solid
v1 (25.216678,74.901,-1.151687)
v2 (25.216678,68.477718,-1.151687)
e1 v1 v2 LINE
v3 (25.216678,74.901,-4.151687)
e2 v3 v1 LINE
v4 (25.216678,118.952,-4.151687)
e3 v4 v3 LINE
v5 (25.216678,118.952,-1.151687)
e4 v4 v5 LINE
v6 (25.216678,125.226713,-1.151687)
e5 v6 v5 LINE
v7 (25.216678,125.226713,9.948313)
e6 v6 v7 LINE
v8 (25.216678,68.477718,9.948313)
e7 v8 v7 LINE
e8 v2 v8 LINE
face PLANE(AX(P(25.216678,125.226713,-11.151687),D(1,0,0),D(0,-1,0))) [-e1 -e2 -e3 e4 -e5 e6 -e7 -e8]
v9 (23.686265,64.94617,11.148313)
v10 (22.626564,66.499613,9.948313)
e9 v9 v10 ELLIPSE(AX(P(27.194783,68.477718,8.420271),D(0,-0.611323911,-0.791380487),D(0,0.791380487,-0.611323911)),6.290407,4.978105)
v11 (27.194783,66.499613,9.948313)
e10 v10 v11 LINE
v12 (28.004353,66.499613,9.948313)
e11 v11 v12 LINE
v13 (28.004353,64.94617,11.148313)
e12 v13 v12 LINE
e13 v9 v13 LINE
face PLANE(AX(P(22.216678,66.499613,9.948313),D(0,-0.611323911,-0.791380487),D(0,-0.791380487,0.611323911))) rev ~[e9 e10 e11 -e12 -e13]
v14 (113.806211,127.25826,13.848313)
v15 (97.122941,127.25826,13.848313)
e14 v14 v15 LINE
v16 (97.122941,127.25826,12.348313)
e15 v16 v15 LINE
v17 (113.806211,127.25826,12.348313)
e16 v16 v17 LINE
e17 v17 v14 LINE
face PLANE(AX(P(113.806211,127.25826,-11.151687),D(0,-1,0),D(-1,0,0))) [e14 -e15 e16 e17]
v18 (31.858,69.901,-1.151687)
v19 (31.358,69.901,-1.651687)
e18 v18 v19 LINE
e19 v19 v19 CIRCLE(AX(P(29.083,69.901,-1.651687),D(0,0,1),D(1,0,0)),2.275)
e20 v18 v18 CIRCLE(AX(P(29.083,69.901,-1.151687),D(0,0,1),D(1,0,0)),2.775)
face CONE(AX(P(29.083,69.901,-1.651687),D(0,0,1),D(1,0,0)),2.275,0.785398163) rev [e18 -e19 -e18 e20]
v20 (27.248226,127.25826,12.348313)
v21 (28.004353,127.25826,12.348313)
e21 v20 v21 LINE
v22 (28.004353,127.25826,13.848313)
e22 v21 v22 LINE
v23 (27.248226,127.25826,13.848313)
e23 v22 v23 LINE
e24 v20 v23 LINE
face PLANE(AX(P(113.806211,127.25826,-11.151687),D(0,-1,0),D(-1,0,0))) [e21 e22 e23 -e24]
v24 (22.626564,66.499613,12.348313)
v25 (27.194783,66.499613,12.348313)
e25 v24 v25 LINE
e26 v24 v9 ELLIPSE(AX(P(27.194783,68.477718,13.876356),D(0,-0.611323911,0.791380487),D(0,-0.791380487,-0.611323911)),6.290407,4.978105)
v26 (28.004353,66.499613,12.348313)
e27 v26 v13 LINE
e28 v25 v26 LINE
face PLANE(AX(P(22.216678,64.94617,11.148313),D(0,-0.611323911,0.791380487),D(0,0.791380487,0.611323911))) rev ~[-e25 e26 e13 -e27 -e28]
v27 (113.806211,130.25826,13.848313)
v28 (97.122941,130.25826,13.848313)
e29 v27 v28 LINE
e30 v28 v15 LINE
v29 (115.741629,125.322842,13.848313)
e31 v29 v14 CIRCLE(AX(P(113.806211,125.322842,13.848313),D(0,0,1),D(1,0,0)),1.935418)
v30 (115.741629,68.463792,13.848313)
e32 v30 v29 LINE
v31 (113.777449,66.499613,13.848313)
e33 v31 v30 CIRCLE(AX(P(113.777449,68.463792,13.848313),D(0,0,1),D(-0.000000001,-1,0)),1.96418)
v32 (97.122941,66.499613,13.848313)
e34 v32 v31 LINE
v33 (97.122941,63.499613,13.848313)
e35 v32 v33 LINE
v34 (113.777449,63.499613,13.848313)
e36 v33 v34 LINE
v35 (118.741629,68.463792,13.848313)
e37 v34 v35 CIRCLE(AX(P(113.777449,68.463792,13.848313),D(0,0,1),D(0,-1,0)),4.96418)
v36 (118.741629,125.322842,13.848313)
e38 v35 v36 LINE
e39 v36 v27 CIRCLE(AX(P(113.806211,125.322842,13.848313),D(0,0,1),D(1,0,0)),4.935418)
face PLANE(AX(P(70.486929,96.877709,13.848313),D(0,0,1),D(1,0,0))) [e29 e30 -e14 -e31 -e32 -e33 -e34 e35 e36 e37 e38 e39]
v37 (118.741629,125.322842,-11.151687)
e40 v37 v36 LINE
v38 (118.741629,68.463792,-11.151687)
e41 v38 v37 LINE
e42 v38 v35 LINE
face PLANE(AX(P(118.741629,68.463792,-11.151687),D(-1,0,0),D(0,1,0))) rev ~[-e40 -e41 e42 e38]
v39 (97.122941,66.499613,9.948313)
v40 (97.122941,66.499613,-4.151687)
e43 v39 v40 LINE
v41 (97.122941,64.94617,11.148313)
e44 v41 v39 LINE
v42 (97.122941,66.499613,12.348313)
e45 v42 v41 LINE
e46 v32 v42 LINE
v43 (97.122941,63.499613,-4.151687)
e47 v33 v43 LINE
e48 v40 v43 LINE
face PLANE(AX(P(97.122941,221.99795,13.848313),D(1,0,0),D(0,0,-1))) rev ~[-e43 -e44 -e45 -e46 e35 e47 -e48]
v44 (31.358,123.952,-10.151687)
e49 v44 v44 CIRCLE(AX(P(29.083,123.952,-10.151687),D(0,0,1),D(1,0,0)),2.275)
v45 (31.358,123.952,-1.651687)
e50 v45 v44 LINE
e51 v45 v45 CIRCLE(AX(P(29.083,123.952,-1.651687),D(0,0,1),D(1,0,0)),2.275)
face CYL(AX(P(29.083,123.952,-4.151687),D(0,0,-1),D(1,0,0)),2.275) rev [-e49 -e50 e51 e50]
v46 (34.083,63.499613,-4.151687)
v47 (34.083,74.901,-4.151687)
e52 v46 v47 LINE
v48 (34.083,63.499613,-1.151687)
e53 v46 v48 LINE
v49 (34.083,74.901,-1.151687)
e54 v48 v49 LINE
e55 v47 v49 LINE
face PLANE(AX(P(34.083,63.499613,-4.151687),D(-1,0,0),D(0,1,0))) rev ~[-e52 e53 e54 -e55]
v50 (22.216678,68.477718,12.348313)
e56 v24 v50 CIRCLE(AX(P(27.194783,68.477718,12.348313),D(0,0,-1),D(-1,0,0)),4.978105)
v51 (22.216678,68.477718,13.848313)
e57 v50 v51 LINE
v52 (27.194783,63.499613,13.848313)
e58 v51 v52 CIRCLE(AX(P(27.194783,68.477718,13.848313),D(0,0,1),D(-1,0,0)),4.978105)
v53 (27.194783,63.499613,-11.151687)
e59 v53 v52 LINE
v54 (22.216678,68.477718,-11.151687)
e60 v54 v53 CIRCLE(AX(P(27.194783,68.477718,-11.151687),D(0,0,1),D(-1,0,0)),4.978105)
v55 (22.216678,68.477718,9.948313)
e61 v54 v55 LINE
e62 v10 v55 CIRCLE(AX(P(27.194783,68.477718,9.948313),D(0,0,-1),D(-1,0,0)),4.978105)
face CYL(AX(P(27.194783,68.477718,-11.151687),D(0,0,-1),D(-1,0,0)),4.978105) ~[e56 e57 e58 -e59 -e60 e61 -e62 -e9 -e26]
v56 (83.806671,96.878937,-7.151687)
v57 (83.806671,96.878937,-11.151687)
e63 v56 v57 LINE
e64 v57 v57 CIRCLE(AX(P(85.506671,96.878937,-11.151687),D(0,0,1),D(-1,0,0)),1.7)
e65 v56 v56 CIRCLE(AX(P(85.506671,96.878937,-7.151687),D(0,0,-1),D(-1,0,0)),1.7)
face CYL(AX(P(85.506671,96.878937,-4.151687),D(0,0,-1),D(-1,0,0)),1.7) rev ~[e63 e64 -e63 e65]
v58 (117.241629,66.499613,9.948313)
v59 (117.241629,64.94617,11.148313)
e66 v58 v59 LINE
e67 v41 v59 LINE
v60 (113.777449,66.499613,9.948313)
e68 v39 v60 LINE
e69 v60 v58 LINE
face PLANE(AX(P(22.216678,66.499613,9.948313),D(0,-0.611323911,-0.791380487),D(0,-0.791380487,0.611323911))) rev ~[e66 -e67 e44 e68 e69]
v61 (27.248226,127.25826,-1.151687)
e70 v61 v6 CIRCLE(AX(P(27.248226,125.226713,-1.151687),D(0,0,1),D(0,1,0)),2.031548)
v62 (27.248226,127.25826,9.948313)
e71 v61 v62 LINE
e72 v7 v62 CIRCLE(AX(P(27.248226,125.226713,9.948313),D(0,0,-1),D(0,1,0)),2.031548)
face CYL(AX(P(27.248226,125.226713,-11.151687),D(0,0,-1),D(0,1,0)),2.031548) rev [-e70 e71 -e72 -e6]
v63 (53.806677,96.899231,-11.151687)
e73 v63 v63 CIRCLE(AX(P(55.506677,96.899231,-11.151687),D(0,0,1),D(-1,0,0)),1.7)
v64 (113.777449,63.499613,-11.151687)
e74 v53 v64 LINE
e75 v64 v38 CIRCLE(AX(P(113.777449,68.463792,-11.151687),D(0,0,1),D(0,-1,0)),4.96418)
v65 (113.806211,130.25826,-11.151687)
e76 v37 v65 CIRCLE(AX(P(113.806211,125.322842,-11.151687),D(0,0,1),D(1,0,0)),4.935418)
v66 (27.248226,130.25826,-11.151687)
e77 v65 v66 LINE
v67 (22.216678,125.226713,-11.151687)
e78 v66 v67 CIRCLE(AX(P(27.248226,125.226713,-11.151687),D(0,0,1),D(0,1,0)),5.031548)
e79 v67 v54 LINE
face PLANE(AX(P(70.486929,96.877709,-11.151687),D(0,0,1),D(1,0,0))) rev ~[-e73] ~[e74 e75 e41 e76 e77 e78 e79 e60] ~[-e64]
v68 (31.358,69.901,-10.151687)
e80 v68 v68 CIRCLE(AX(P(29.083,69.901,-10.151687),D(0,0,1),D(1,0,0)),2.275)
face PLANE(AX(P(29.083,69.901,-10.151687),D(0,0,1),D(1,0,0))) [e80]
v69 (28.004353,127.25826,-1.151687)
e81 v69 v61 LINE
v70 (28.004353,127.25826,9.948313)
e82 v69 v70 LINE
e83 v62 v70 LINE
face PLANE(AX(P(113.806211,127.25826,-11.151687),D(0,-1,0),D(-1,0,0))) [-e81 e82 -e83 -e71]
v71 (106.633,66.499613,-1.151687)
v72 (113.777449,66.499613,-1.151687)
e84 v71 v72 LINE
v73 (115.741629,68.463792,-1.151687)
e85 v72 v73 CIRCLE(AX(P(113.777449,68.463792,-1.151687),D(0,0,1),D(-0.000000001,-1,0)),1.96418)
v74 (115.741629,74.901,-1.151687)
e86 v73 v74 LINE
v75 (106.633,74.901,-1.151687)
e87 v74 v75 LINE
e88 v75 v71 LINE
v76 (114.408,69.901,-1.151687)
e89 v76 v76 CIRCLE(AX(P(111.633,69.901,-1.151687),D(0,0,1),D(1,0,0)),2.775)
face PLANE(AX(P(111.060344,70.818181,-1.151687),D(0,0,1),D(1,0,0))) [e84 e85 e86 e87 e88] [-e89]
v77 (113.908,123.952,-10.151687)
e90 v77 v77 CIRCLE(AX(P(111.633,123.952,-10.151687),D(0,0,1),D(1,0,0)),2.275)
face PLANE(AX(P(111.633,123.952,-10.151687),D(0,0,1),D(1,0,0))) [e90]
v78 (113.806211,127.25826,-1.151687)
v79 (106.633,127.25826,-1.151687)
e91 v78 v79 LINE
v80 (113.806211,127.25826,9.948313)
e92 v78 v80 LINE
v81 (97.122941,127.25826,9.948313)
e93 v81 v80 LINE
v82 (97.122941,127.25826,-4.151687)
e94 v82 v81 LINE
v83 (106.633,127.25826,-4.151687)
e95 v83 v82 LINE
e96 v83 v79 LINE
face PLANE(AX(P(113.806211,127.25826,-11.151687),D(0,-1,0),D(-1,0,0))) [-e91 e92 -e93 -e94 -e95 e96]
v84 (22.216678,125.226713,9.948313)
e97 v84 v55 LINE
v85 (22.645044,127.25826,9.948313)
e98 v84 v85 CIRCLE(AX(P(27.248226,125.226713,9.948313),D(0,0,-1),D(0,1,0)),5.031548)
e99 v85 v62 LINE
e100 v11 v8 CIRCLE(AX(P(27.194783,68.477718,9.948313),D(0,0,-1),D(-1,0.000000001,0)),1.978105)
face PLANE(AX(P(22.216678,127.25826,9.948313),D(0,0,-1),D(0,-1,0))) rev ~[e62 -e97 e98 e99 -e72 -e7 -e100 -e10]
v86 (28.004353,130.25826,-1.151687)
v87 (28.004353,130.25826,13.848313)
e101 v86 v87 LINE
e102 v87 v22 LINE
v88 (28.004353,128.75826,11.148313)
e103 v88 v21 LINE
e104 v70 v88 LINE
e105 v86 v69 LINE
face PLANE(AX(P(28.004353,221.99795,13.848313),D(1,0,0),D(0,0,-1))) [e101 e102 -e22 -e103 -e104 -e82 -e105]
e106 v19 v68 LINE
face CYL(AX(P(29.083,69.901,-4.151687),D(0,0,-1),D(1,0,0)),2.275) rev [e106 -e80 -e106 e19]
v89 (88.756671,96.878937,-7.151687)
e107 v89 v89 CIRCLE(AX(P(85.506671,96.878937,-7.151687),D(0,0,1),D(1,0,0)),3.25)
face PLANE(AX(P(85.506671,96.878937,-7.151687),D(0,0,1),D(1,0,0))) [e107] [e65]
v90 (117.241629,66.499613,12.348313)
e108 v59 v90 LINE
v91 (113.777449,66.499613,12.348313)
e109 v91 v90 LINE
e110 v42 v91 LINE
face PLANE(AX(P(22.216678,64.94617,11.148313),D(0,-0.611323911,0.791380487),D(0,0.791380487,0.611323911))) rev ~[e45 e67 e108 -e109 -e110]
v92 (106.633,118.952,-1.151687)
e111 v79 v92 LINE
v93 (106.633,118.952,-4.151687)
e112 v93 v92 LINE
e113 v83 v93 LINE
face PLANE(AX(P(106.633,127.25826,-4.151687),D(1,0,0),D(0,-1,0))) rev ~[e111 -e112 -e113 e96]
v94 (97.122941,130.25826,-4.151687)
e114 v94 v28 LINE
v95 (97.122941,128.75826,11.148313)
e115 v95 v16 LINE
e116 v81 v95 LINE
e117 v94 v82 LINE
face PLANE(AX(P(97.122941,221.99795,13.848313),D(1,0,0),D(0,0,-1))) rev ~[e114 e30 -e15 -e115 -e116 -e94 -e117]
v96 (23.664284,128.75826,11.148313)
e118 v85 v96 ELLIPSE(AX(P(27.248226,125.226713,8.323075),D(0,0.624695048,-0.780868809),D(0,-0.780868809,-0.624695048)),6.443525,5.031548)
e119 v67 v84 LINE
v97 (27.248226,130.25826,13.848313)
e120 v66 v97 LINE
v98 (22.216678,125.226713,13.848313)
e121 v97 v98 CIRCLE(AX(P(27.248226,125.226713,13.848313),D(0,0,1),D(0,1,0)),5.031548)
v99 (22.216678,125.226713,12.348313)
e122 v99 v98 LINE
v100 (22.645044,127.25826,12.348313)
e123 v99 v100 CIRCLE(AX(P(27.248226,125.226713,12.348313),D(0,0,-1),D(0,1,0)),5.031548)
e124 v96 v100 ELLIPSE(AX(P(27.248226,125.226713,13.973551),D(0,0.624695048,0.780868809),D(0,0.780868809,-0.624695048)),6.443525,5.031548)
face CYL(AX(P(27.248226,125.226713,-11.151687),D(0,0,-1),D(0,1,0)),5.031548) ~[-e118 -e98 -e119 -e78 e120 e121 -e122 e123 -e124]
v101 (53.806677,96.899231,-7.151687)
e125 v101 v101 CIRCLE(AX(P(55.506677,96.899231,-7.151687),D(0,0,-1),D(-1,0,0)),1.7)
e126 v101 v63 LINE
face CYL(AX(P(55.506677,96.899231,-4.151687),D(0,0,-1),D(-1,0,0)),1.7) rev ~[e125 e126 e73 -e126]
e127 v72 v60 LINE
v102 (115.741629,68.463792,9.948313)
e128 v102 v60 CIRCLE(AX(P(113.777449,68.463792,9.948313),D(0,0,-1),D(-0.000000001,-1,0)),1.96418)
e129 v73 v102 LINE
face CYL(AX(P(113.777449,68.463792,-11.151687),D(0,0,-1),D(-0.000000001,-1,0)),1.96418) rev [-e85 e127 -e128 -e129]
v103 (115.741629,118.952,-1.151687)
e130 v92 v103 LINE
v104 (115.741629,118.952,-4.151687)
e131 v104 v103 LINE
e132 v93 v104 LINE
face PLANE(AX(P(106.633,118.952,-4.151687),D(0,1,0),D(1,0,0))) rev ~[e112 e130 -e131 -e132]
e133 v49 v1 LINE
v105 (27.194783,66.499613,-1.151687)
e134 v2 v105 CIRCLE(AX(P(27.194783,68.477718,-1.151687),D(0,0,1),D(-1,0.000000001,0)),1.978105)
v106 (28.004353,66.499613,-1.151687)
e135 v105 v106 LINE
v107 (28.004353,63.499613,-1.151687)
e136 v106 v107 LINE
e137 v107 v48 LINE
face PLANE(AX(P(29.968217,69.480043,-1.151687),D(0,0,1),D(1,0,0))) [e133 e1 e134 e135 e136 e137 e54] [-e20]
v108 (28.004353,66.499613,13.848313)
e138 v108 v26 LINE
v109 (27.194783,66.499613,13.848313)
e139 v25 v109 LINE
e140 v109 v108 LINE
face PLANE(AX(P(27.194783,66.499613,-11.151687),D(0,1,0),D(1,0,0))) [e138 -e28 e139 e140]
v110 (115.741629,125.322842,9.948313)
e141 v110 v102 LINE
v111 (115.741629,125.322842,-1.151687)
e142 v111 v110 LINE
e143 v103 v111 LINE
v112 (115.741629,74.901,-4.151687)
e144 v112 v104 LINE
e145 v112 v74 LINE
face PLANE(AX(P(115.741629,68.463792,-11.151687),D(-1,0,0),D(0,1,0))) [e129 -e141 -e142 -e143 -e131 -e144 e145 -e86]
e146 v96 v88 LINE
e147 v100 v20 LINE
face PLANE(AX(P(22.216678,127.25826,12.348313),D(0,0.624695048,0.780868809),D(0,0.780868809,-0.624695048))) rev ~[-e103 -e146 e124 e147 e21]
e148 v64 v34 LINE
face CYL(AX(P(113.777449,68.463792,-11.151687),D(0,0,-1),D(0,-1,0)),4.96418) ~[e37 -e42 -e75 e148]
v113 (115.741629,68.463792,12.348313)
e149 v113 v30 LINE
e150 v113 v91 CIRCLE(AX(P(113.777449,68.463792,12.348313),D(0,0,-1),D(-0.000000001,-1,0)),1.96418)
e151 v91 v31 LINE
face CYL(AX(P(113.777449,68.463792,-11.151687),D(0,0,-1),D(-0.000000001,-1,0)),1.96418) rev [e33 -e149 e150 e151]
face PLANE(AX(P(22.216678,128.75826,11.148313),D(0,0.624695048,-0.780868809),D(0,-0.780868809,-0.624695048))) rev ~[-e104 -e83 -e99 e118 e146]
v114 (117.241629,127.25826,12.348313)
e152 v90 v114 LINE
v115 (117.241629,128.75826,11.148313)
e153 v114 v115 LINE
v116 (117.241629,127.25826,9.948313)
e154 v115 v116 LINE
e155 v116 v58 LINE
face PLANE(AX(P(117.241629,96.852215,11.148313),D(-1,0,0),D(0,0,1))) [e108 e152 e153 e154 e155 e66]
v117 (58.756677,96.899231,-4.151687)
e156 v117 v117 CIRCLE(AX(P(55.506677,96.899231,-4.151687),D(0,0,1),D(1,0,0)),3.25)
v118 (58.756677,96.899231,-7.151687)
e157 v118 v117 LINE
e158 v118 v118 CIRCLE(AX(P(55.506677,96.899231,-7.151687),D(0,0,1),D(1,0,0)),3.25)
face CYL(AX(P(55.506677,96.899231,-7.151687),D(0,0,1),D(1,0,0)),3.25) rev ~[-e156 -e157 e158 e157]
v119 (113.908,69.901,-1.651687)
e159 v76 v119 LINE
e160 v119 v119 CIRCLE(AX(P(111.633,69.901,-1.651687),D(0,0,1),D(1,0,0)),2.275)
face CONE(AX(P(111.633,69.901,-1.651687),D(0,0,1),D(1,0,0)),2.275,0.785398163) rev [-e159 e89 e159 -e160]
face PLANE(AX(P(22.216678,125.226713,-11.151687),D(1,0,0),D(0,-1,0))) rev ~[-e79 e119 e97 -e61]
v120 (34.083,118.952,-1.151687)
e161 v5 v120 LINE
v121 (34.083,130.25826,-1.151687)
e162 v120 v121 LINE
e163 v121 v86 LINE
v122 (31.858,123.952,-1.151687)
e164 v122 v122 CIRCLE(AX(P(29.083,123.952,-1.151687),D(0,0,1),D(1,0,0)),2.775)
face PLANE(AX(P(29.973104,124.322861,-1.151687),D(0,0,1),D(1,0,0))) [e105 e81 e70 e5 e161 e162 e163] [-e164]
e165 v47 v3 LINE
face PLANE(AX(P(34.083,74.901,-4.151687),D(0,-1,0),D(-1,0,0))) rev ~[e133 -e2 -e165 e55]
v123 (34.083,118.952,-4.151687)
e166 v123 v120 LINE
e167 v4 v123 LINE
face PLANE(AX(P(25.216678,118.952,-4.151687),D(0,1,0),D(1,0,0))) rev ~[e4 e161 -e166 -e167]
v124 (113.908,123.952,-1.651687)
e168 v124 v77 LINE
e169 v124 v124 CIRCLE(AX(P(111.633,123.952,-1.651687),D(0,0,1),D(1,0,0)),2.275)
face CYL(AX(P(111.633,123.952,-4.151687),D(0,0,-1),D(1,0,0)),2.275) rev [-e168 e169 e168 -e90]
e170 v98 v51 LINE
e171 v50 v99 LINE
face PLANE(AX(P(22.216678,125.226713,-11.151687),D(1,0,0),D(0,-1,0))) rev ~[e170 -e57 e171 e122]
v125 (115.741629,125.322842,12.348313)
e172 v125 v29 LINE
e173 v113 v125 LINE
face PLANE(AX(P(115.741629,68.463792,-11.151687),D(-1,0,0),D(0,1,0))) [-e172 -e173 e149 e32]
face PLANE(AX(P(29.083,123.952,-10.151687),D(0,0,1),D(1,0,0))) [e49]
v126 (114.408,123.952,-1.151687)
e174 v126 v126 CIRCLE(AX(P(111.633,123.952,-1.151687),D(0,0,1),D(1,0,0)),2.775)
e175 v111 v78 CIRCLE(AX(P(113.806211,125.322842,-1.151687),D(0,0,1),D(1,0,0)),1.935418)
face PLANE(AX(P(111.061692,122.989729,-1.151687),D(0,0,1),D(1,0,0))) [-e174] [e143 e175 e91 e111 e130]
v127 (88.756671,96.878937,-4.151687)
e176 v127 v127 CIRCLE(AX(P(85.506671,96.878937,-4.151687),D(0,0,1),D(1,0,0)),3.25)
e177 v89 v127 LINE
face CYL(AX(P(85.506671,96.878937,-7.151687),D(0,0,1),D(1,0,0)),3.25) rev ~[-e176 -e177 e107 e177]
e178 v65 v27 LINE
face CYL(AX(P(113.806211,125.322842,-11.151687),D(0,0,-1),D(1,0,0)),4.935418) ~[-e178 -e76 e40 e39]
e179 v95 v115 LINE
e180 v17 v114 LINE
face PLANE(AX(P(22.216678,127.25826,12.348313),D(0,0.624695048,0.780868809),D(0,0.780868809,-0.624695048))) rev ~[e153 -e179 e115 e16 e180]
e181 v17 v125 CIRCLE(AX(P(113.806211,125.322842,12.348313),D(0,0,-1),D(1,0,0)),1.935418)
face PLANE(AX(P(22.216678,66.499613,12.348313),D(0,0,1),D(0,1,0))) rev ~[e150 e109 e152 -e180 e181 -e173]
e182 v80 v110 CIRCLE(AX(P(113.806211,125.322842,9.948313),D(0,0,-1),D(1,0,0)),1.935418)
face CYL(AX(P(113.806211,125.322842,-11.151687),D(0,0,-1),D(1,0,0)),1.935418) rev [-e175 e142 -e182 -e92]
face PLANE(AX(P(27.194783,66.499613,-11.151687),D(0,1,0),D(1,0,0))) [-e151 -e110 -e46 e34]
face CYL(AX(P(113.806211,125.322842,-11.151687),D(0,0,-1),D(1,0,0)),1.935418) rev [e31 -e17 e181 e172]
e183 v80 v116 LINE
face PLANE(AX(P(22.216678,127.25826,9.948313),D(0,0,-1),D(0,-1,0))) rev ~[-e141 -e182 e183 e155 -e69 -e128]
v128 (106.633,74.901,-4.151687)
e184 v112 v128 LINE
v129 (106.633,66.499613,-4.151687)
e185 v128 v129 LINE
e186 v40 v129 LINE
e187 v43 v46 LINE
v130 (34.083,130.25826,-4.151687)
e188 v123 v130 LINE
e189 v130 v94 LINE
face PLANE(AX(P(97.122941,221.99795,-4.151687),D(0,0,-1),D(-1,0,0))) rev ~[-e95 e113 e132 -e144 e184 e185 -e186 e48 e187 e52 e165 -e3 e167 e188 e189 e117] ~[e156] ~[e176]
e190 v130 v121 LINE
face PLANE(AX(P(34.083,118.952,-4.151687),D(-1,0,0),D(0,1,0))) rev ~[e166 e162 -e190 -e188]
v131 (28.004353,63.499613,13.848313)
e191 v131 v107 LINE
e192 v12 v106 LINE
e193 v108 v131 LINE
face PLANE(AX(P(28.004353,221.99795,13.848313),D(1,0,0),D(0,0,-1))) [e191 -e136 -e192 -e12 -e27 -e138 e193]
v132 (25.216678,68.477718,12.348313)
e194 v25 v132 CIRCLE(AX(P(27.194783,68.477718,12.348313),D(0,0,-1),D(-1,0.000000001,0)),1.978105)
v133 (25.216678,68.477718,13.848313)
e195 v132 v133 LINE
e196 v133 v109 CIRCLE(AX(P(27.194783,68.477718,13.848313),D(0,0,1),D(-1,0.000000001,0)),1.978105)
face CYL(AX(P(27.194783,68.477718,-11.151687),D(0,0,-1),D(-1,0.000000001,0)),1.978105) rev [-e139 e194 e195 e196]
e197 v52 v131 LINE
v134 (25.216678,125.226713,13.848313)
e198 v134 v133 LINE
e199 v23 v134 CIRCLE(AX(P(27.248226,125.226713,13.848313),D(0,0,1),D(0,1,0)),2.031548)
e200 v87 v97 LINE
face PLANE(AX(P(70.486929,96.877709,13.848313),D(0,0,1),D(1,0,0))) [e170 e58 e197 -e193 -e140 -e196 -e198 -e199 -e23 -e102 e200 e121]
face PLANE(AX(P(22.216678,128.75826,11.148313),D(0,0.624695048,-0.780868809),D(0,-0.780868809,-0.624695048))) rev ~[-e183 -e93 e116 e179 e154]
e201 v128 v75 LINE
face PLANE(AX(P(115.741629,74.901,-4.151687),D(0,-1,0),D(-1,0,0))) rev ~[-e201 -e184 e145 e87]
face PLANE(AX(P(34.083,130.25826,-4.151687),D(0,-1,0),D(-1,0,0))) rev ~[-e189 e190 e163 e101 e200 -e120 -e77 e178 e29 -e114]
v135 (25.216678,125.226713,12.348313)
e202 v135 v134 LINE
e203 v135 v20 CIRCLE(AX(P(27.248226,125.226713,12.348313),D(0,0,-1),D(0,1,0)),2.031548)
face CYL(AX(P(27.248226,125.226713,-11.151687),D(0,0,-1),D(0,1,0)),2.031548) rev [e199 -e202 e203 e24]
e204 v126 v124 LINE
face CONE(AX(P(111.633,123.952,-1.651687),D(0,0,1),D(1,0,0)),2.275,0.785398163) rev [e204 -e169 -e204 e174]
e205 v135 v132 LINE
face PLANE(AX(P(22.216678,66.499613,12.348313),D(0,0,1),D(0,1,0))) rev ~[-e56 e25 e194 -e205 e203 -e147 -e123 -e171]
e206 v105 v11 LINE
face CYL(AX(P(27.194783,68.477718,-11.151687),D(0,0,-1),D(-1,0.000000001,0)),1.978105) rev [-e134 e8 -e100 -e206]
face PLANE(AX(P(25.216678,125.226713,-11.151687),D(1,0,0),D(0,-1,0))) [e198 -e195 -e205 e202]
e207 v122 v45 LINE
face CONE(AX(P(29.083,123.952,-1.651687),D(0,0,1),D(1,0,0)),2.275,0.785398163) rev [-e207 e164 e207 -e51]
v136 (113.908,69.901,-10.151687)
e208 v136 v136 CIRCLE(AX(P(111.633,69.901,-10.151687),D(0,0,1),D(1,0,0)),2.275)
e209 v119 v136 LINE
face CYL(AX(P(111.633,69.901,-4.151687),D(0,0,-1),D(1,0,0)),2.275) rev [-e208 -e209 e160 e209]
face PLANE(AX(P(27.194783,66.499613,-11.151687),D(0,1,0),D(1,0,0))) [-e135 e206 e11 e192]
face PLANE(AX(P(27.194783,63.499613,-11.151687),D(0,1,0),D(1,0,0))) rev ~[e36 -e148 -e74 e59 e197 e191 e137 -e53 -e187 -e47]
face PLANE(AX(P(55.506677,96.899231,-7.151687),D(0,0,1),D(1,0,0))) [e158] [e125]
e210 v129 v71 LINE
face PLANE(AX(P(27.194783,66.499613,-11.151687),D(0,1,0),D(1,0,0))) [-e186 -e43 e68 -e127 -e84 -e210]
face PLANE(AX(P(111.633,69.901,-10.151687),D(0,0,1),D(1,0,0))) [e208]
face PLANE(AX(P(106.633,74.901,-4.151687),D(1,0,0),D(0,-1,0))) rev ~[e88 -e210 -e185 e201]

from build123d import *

# Parameters (mm, degrees)
BOSS_EXTRUDE1_DEPTH            = 7
BOSS_EXTRUDE2_DEPTH            = 25
SKETCH2_R                      = 2.275
CUT_EXTRUDE1_DEPTH             = 6
CBORE_FOR_M3_SHCS1_D           = 3.4
CBORE_FOR_M3_SHCS1_DEPTH       = 7
CBORE_FOR_M3_SHCS1_CBORE_D     = 6.5
CBORE_FOR_M3_SHCS1_CBORE_DEPTH = 3
CBORE_FOR_M3_SHCS1_TIP         = 1.021463052
CUT_EXTRUDE2_DEPTH             = 125.119013182
CUT_EXTRUDE2_DEPTH_BACK        = 125.119013182
SKETCH5_W                      = 69.118587288
SKETCH5_H                      = 18
SKETCH6_W                      = 2.4
SKETCH6_H                      = 56.748995089
CUT_EXTRUDE3_DEPTH             = 95.024950421
SKETCH7_R                      = 2.275
BOSS_EXTRUDE3_DEPTH            = 3
CHAMFER1_SIZE                  = 0.5


with BuildPart() as part:
    # Sketch1 → Boss-Extrude1 (new body)
    with BuildSketch(Plane(origin=(0, 0, -11.1516868), x_dir=(-1, 0, 0), z_dir=(0, 0, -1))):
        with BuildLine():
            Line((-25.216678302, 125.2267128), (-25.216678302, 68.477717711))
            ThreePointArc((-25.216678302, 68.477717711), (-25.796051859, 67.07898621), (-27.19478336, 66.499612653))
            Line((-27.19478336, 66.499612653), (-113.777448917, 66.499612653))
            ThreePointArc((-113.777448917, 66.499612653), (-115.166333777, 67.074907598), (-115.741628722, 68.463792459))
            Line((-115.741628722, 68.463792459), (-115.741628722, 125.322842242))
            ThreePointArc((-115.741628722, 125.322842242), (-115.174757862, 126.691389562), (-113.806210541, 127.258260423))
            Line((-113.806210541, 127.258260423), (-27.248225925, 127.258260423))
            ThreePointArc((-27.248225925, 127.258260423), (-25.811704824, 126.6632339), (-25.216678302, 125.2267128))
        make_face()
    extrude(amount=-BOSS_EXTRUDE1_DEPTH)

    # Sketch1<4> → Boss-Extrude2 (add)
    with BuildSketch(Plane(origin=(0, 0, -11.1516868), x_dir=(-1, 0, 0), z_dir=(0, 0, -1))):
        with BuildLine():
            Line((-22.216678302, 125.2267128), (-22.216678302, 68.477717711))
            ThreePointArc((-22.216678302, 68.477717711), (-23.674731516, 64.957665867), (-27.19478336, 63.499612653))
            Line((-27.19478336, 63.499612653), (-113.777448917, 63.499612653))
            ThreePointArc((-113.777448917, 63.499612653), (-117.28765412, 64.953587255), (-118.741628722, 68.463792459))
            Line((-118.741628722, 68.463792459), (-118.741628722, 125.322842242))
            ThreePointArc((-118.741628722, 125.322842242), (-117.296078205, 128.812709906), (-113.806210541, 130.258260423))
            Line((-113.806210541, 130.258260423), (-27.248225925, 130.258260423))
            ThreePointArc((-27.248225925, 130.258260423), (-23.690384481, 128.784554244), (-22.216678302, 125.2267128))
        make_face()
        with BuildLine():
            Line((-25.216678302, 125.2267128), (-25.216678302, 68.477717711))
            ThreePointArc((-25.216678302, 68.477717711), (-25.796051859, 67.07898621), (-27.19478336, 66.499612653))
            Line((-27.19478336, 66.499612653), (-113.777448917, 66.499612653))
            ThreePointArc((-113.777448917, 66.499612653), (-115.166333777, 67.074907598), (-115.741628722, 68.463792459))
            Line((-115.741628722, 68.463792459), (-115.741628722, 125.322842242))
            ThreePointArc((-115.741628722, 125.322842242), (-115.174757862, 126.691389562), (-113.806210541, 127.258260423))
            Line((-113.806210541, 127.258260423), (-27.248225925, 127.258260423))
            ThreePointArc((-27.248225925, 127.258260423), (-25.811704824, 126.6632339), (-25.216678302, 125.2267128))
        make_face(mode=Mode.SUBTRACT)
    extrude(amount=-BOSS_EXTRUDE2_DEPTH)

    # Sketch2 → Cut-Extrude1 (cut)
    with BuildSketch(Plane.XY.offset(-4.1516868)):
        with Locations((111.633, 123.952)):
            Circle(SKETCH2_R)
        with Locations((111.633, 69.901)):
            Circle(SKETCH2_R)
        with Locations((29.083, 69.901)):
            Circle(SKETCH2_R)
        with Locations((29.083, 123.952)):
            Circle(SKETCH2_R)
    extrude(amount=-CUT_EXTRUDE1_DEPTH, mode=Mode.SUBTRACT)

    # CBORE for M3 SHCS1
    with Locations(Plane.XY.offset(-4.1516868)):
        with Locations((55.506677482, 96.899230975), (85.506670618, 96.878936538)):
            CounterBoreHole(CBORE_FOR_M3_SHCS1_D / 2, CBORE_FOR_M3_SHCS1_CBORE_D / 2, CBORE_FOR_M3_SHCS1_CBORE_DEPTH, depth=CBORE_FOR_M3_SHCS1_DEPTH)
            with Locations((0, 0, -(CBORE_FOR_M3_SHCS1_DEPTH + CBORE_FOR_M3_SHCS1_TIP / 2))):  # 118° drill point
                Cone(0, CBORE_FOR_M3_SHCS1_D / 2, CBORE_FOR_M3_SHCS1_TIP, mode=Mode.SUBTRACT)

    # Sketch5 → Cut-Extrude2 (cut, two sides: drawn at the far end of the back side and taken through both)
    with BuildSketch(Plane(origin=(0, 96.878936538, 0), x_dir=(-1, 0, 0), z_dir=(0, -1, 0)).offset(-CUT_EXTRUDE2_DEPTH_BACK)):
        with Locations((-62.563646937, -4.8483132)):
            Rectangle(SKETCH5_W, SKETCH5_H)
    extrude(amount=CUT_EXTRUDE2_DEPTH + CUT_EXTRUDE2_DEPTH_BACK, mode=Mode.SUBTRACT)

    # Sketch6 → Cut-Extrude3 (cut)
    with BuildSketch(Plane(origin=(22.216678302, -0.007433612, 0), x_dir=(0, 0, 1), z_dir=(-1, 0, 0))):
        with Locations((11.1483132, 96.859648867)):
            Rectangle(SKETCH6_W, SKETCH6_H)
        Polygon((12.3483132, 127.265694035), (11.1483132, 128.765694035), (9.9483132, 127.265694035), (9.9483132, 125.234146412), (12.3483132, 125.234146412), align=None)
        Polygon((12.3483132, 68.485151323), (9.9483132, 68.485151323), (9.9483132, 66.507046265), (11.1483132, 64.953603699), (12.3483132, 66.507046265), align=None)
    extrude(amount=-CUT_EXTRUDE3_DEPTH, mode=Mode.SUBTRACT)

    # Sketch7 → Boss-Extrude3 (add)
    # profile 1 of 4: a face of its own
    with BuildSketch(Plane.XY.offset(-4.1516868)):
        with BuildLine():
            Line((25.216678302, 125.2267128), (25.216678302, 118.952))
            Line((25.216678302, 118.952), (34.083, 118.952))
            Line((34.083, 118.952), (34.083, 130.258260423))
            Line((34.083, 130.258260423), (28.004353293, 130.258260423))
            Line((28.004353293, 130.258260423), (28.004353293, 127.258260423))
            Line((28.004353293, 127.258260423), (27.248225925, 127.258260423))
            ThreePointArc((27.248225925, 127.258260423), (25.811704824, 126.6632339), (25.216678302, 125.2267128))
        make_face()
        with Locations((29.083, 123.952)):
            Circle(SKETCH7_R, mode=Mode.SUBTRACT)
    # profile 2 of 4: a face of its own
    with BuildSketch(Plane.XY.offset(-4.1516868)):
        with BuildLine():
            Line((34.083, 74.901), (25.216678302, 74.901))
            Line((25.216678302, 74.901), (25.216678302, 68.477717711))
            ThreePointArc((25.216678302, 68.477717711), (25.796051859, 67.07898621), (27.19478336, 66.499612653))
            Line((27.19478336, 66.499612653), (28.004353293, 66.499612653))
            Line((28.004353293, 66.499612653), (28.004353293, 63.499612653))
            Line((28.004353293, 63.499612653), (34.083, 63.499612653))
            Line((34.083, 63.499612653), (34.083, 74.901))
        make_face()
        with Locations((29.083, 69.901)):
            Circle(SKETCH7_R, mode=Mode.SUBTRACT)
    # profile 3 of 4: a face of its own
    with BuildSketch(Plane.XY.offset(-4.1516868)):
        with BuildLine():
            Line((106.633, 118.952), (115.741628722, 118.952))
            Line((115.741628722, 118.952), (115.741628722, 125.322842242))
            ThreePointArc((115.741628722, 125.322842242), (115.174757862, 126.691389562), (113.806210541, 127.258260423))
            Line((113.806210541, 127.258260423), (106.633, 127.258260423))
            Line((106.633, 127.258260423), (106.633, 118.952))
        make_face()
        with Locations((111.633, 123.952)):
            Circle(SKETCH7_R, mode=Mode.SUBTRACT)
    # profile 4 of 4: a face of its own
    with BuildSketch(Plane.XY.offset(-4.1516868)):
        with BuildLine():
            Line((115.741628722, 68.463792459), (115.741628722, 74.901))
            Line((115.741628722, 74.901), (106.633, 74.901))
            Line((106.633, 74.901), (106.633, 66.499612653))
            Line((106.633, 66.499612653), (113.777448917, 66.499612653))
            ThreePointArc((113.777448917, 66.499612653), (115.166333777, 67.074907598), (115.741628722, 68.463792459))
        make_face()
        with Locations((111.633, 69.901)):
            Circle(SKETCH7_R, mode=Mode.SUBTRACT)
    extrude(amount=BOSS_EXTRUDE3_DEPTH)

    # Chamfer1
    chamfer1_edges = [part.edges().sort_by_distance(p)[0] for p in [
        (26.808, 69.901, -1.1516868),
        (109.358, 123.952, -1.1516868),
        (109.358, 69.901, -1.1516868),
        (26.808, 123.952, -1.1516868),
    ]]
    chamfer(chamfer1_edges, length=CHAMFER1_SIZE)


solid = part.part
